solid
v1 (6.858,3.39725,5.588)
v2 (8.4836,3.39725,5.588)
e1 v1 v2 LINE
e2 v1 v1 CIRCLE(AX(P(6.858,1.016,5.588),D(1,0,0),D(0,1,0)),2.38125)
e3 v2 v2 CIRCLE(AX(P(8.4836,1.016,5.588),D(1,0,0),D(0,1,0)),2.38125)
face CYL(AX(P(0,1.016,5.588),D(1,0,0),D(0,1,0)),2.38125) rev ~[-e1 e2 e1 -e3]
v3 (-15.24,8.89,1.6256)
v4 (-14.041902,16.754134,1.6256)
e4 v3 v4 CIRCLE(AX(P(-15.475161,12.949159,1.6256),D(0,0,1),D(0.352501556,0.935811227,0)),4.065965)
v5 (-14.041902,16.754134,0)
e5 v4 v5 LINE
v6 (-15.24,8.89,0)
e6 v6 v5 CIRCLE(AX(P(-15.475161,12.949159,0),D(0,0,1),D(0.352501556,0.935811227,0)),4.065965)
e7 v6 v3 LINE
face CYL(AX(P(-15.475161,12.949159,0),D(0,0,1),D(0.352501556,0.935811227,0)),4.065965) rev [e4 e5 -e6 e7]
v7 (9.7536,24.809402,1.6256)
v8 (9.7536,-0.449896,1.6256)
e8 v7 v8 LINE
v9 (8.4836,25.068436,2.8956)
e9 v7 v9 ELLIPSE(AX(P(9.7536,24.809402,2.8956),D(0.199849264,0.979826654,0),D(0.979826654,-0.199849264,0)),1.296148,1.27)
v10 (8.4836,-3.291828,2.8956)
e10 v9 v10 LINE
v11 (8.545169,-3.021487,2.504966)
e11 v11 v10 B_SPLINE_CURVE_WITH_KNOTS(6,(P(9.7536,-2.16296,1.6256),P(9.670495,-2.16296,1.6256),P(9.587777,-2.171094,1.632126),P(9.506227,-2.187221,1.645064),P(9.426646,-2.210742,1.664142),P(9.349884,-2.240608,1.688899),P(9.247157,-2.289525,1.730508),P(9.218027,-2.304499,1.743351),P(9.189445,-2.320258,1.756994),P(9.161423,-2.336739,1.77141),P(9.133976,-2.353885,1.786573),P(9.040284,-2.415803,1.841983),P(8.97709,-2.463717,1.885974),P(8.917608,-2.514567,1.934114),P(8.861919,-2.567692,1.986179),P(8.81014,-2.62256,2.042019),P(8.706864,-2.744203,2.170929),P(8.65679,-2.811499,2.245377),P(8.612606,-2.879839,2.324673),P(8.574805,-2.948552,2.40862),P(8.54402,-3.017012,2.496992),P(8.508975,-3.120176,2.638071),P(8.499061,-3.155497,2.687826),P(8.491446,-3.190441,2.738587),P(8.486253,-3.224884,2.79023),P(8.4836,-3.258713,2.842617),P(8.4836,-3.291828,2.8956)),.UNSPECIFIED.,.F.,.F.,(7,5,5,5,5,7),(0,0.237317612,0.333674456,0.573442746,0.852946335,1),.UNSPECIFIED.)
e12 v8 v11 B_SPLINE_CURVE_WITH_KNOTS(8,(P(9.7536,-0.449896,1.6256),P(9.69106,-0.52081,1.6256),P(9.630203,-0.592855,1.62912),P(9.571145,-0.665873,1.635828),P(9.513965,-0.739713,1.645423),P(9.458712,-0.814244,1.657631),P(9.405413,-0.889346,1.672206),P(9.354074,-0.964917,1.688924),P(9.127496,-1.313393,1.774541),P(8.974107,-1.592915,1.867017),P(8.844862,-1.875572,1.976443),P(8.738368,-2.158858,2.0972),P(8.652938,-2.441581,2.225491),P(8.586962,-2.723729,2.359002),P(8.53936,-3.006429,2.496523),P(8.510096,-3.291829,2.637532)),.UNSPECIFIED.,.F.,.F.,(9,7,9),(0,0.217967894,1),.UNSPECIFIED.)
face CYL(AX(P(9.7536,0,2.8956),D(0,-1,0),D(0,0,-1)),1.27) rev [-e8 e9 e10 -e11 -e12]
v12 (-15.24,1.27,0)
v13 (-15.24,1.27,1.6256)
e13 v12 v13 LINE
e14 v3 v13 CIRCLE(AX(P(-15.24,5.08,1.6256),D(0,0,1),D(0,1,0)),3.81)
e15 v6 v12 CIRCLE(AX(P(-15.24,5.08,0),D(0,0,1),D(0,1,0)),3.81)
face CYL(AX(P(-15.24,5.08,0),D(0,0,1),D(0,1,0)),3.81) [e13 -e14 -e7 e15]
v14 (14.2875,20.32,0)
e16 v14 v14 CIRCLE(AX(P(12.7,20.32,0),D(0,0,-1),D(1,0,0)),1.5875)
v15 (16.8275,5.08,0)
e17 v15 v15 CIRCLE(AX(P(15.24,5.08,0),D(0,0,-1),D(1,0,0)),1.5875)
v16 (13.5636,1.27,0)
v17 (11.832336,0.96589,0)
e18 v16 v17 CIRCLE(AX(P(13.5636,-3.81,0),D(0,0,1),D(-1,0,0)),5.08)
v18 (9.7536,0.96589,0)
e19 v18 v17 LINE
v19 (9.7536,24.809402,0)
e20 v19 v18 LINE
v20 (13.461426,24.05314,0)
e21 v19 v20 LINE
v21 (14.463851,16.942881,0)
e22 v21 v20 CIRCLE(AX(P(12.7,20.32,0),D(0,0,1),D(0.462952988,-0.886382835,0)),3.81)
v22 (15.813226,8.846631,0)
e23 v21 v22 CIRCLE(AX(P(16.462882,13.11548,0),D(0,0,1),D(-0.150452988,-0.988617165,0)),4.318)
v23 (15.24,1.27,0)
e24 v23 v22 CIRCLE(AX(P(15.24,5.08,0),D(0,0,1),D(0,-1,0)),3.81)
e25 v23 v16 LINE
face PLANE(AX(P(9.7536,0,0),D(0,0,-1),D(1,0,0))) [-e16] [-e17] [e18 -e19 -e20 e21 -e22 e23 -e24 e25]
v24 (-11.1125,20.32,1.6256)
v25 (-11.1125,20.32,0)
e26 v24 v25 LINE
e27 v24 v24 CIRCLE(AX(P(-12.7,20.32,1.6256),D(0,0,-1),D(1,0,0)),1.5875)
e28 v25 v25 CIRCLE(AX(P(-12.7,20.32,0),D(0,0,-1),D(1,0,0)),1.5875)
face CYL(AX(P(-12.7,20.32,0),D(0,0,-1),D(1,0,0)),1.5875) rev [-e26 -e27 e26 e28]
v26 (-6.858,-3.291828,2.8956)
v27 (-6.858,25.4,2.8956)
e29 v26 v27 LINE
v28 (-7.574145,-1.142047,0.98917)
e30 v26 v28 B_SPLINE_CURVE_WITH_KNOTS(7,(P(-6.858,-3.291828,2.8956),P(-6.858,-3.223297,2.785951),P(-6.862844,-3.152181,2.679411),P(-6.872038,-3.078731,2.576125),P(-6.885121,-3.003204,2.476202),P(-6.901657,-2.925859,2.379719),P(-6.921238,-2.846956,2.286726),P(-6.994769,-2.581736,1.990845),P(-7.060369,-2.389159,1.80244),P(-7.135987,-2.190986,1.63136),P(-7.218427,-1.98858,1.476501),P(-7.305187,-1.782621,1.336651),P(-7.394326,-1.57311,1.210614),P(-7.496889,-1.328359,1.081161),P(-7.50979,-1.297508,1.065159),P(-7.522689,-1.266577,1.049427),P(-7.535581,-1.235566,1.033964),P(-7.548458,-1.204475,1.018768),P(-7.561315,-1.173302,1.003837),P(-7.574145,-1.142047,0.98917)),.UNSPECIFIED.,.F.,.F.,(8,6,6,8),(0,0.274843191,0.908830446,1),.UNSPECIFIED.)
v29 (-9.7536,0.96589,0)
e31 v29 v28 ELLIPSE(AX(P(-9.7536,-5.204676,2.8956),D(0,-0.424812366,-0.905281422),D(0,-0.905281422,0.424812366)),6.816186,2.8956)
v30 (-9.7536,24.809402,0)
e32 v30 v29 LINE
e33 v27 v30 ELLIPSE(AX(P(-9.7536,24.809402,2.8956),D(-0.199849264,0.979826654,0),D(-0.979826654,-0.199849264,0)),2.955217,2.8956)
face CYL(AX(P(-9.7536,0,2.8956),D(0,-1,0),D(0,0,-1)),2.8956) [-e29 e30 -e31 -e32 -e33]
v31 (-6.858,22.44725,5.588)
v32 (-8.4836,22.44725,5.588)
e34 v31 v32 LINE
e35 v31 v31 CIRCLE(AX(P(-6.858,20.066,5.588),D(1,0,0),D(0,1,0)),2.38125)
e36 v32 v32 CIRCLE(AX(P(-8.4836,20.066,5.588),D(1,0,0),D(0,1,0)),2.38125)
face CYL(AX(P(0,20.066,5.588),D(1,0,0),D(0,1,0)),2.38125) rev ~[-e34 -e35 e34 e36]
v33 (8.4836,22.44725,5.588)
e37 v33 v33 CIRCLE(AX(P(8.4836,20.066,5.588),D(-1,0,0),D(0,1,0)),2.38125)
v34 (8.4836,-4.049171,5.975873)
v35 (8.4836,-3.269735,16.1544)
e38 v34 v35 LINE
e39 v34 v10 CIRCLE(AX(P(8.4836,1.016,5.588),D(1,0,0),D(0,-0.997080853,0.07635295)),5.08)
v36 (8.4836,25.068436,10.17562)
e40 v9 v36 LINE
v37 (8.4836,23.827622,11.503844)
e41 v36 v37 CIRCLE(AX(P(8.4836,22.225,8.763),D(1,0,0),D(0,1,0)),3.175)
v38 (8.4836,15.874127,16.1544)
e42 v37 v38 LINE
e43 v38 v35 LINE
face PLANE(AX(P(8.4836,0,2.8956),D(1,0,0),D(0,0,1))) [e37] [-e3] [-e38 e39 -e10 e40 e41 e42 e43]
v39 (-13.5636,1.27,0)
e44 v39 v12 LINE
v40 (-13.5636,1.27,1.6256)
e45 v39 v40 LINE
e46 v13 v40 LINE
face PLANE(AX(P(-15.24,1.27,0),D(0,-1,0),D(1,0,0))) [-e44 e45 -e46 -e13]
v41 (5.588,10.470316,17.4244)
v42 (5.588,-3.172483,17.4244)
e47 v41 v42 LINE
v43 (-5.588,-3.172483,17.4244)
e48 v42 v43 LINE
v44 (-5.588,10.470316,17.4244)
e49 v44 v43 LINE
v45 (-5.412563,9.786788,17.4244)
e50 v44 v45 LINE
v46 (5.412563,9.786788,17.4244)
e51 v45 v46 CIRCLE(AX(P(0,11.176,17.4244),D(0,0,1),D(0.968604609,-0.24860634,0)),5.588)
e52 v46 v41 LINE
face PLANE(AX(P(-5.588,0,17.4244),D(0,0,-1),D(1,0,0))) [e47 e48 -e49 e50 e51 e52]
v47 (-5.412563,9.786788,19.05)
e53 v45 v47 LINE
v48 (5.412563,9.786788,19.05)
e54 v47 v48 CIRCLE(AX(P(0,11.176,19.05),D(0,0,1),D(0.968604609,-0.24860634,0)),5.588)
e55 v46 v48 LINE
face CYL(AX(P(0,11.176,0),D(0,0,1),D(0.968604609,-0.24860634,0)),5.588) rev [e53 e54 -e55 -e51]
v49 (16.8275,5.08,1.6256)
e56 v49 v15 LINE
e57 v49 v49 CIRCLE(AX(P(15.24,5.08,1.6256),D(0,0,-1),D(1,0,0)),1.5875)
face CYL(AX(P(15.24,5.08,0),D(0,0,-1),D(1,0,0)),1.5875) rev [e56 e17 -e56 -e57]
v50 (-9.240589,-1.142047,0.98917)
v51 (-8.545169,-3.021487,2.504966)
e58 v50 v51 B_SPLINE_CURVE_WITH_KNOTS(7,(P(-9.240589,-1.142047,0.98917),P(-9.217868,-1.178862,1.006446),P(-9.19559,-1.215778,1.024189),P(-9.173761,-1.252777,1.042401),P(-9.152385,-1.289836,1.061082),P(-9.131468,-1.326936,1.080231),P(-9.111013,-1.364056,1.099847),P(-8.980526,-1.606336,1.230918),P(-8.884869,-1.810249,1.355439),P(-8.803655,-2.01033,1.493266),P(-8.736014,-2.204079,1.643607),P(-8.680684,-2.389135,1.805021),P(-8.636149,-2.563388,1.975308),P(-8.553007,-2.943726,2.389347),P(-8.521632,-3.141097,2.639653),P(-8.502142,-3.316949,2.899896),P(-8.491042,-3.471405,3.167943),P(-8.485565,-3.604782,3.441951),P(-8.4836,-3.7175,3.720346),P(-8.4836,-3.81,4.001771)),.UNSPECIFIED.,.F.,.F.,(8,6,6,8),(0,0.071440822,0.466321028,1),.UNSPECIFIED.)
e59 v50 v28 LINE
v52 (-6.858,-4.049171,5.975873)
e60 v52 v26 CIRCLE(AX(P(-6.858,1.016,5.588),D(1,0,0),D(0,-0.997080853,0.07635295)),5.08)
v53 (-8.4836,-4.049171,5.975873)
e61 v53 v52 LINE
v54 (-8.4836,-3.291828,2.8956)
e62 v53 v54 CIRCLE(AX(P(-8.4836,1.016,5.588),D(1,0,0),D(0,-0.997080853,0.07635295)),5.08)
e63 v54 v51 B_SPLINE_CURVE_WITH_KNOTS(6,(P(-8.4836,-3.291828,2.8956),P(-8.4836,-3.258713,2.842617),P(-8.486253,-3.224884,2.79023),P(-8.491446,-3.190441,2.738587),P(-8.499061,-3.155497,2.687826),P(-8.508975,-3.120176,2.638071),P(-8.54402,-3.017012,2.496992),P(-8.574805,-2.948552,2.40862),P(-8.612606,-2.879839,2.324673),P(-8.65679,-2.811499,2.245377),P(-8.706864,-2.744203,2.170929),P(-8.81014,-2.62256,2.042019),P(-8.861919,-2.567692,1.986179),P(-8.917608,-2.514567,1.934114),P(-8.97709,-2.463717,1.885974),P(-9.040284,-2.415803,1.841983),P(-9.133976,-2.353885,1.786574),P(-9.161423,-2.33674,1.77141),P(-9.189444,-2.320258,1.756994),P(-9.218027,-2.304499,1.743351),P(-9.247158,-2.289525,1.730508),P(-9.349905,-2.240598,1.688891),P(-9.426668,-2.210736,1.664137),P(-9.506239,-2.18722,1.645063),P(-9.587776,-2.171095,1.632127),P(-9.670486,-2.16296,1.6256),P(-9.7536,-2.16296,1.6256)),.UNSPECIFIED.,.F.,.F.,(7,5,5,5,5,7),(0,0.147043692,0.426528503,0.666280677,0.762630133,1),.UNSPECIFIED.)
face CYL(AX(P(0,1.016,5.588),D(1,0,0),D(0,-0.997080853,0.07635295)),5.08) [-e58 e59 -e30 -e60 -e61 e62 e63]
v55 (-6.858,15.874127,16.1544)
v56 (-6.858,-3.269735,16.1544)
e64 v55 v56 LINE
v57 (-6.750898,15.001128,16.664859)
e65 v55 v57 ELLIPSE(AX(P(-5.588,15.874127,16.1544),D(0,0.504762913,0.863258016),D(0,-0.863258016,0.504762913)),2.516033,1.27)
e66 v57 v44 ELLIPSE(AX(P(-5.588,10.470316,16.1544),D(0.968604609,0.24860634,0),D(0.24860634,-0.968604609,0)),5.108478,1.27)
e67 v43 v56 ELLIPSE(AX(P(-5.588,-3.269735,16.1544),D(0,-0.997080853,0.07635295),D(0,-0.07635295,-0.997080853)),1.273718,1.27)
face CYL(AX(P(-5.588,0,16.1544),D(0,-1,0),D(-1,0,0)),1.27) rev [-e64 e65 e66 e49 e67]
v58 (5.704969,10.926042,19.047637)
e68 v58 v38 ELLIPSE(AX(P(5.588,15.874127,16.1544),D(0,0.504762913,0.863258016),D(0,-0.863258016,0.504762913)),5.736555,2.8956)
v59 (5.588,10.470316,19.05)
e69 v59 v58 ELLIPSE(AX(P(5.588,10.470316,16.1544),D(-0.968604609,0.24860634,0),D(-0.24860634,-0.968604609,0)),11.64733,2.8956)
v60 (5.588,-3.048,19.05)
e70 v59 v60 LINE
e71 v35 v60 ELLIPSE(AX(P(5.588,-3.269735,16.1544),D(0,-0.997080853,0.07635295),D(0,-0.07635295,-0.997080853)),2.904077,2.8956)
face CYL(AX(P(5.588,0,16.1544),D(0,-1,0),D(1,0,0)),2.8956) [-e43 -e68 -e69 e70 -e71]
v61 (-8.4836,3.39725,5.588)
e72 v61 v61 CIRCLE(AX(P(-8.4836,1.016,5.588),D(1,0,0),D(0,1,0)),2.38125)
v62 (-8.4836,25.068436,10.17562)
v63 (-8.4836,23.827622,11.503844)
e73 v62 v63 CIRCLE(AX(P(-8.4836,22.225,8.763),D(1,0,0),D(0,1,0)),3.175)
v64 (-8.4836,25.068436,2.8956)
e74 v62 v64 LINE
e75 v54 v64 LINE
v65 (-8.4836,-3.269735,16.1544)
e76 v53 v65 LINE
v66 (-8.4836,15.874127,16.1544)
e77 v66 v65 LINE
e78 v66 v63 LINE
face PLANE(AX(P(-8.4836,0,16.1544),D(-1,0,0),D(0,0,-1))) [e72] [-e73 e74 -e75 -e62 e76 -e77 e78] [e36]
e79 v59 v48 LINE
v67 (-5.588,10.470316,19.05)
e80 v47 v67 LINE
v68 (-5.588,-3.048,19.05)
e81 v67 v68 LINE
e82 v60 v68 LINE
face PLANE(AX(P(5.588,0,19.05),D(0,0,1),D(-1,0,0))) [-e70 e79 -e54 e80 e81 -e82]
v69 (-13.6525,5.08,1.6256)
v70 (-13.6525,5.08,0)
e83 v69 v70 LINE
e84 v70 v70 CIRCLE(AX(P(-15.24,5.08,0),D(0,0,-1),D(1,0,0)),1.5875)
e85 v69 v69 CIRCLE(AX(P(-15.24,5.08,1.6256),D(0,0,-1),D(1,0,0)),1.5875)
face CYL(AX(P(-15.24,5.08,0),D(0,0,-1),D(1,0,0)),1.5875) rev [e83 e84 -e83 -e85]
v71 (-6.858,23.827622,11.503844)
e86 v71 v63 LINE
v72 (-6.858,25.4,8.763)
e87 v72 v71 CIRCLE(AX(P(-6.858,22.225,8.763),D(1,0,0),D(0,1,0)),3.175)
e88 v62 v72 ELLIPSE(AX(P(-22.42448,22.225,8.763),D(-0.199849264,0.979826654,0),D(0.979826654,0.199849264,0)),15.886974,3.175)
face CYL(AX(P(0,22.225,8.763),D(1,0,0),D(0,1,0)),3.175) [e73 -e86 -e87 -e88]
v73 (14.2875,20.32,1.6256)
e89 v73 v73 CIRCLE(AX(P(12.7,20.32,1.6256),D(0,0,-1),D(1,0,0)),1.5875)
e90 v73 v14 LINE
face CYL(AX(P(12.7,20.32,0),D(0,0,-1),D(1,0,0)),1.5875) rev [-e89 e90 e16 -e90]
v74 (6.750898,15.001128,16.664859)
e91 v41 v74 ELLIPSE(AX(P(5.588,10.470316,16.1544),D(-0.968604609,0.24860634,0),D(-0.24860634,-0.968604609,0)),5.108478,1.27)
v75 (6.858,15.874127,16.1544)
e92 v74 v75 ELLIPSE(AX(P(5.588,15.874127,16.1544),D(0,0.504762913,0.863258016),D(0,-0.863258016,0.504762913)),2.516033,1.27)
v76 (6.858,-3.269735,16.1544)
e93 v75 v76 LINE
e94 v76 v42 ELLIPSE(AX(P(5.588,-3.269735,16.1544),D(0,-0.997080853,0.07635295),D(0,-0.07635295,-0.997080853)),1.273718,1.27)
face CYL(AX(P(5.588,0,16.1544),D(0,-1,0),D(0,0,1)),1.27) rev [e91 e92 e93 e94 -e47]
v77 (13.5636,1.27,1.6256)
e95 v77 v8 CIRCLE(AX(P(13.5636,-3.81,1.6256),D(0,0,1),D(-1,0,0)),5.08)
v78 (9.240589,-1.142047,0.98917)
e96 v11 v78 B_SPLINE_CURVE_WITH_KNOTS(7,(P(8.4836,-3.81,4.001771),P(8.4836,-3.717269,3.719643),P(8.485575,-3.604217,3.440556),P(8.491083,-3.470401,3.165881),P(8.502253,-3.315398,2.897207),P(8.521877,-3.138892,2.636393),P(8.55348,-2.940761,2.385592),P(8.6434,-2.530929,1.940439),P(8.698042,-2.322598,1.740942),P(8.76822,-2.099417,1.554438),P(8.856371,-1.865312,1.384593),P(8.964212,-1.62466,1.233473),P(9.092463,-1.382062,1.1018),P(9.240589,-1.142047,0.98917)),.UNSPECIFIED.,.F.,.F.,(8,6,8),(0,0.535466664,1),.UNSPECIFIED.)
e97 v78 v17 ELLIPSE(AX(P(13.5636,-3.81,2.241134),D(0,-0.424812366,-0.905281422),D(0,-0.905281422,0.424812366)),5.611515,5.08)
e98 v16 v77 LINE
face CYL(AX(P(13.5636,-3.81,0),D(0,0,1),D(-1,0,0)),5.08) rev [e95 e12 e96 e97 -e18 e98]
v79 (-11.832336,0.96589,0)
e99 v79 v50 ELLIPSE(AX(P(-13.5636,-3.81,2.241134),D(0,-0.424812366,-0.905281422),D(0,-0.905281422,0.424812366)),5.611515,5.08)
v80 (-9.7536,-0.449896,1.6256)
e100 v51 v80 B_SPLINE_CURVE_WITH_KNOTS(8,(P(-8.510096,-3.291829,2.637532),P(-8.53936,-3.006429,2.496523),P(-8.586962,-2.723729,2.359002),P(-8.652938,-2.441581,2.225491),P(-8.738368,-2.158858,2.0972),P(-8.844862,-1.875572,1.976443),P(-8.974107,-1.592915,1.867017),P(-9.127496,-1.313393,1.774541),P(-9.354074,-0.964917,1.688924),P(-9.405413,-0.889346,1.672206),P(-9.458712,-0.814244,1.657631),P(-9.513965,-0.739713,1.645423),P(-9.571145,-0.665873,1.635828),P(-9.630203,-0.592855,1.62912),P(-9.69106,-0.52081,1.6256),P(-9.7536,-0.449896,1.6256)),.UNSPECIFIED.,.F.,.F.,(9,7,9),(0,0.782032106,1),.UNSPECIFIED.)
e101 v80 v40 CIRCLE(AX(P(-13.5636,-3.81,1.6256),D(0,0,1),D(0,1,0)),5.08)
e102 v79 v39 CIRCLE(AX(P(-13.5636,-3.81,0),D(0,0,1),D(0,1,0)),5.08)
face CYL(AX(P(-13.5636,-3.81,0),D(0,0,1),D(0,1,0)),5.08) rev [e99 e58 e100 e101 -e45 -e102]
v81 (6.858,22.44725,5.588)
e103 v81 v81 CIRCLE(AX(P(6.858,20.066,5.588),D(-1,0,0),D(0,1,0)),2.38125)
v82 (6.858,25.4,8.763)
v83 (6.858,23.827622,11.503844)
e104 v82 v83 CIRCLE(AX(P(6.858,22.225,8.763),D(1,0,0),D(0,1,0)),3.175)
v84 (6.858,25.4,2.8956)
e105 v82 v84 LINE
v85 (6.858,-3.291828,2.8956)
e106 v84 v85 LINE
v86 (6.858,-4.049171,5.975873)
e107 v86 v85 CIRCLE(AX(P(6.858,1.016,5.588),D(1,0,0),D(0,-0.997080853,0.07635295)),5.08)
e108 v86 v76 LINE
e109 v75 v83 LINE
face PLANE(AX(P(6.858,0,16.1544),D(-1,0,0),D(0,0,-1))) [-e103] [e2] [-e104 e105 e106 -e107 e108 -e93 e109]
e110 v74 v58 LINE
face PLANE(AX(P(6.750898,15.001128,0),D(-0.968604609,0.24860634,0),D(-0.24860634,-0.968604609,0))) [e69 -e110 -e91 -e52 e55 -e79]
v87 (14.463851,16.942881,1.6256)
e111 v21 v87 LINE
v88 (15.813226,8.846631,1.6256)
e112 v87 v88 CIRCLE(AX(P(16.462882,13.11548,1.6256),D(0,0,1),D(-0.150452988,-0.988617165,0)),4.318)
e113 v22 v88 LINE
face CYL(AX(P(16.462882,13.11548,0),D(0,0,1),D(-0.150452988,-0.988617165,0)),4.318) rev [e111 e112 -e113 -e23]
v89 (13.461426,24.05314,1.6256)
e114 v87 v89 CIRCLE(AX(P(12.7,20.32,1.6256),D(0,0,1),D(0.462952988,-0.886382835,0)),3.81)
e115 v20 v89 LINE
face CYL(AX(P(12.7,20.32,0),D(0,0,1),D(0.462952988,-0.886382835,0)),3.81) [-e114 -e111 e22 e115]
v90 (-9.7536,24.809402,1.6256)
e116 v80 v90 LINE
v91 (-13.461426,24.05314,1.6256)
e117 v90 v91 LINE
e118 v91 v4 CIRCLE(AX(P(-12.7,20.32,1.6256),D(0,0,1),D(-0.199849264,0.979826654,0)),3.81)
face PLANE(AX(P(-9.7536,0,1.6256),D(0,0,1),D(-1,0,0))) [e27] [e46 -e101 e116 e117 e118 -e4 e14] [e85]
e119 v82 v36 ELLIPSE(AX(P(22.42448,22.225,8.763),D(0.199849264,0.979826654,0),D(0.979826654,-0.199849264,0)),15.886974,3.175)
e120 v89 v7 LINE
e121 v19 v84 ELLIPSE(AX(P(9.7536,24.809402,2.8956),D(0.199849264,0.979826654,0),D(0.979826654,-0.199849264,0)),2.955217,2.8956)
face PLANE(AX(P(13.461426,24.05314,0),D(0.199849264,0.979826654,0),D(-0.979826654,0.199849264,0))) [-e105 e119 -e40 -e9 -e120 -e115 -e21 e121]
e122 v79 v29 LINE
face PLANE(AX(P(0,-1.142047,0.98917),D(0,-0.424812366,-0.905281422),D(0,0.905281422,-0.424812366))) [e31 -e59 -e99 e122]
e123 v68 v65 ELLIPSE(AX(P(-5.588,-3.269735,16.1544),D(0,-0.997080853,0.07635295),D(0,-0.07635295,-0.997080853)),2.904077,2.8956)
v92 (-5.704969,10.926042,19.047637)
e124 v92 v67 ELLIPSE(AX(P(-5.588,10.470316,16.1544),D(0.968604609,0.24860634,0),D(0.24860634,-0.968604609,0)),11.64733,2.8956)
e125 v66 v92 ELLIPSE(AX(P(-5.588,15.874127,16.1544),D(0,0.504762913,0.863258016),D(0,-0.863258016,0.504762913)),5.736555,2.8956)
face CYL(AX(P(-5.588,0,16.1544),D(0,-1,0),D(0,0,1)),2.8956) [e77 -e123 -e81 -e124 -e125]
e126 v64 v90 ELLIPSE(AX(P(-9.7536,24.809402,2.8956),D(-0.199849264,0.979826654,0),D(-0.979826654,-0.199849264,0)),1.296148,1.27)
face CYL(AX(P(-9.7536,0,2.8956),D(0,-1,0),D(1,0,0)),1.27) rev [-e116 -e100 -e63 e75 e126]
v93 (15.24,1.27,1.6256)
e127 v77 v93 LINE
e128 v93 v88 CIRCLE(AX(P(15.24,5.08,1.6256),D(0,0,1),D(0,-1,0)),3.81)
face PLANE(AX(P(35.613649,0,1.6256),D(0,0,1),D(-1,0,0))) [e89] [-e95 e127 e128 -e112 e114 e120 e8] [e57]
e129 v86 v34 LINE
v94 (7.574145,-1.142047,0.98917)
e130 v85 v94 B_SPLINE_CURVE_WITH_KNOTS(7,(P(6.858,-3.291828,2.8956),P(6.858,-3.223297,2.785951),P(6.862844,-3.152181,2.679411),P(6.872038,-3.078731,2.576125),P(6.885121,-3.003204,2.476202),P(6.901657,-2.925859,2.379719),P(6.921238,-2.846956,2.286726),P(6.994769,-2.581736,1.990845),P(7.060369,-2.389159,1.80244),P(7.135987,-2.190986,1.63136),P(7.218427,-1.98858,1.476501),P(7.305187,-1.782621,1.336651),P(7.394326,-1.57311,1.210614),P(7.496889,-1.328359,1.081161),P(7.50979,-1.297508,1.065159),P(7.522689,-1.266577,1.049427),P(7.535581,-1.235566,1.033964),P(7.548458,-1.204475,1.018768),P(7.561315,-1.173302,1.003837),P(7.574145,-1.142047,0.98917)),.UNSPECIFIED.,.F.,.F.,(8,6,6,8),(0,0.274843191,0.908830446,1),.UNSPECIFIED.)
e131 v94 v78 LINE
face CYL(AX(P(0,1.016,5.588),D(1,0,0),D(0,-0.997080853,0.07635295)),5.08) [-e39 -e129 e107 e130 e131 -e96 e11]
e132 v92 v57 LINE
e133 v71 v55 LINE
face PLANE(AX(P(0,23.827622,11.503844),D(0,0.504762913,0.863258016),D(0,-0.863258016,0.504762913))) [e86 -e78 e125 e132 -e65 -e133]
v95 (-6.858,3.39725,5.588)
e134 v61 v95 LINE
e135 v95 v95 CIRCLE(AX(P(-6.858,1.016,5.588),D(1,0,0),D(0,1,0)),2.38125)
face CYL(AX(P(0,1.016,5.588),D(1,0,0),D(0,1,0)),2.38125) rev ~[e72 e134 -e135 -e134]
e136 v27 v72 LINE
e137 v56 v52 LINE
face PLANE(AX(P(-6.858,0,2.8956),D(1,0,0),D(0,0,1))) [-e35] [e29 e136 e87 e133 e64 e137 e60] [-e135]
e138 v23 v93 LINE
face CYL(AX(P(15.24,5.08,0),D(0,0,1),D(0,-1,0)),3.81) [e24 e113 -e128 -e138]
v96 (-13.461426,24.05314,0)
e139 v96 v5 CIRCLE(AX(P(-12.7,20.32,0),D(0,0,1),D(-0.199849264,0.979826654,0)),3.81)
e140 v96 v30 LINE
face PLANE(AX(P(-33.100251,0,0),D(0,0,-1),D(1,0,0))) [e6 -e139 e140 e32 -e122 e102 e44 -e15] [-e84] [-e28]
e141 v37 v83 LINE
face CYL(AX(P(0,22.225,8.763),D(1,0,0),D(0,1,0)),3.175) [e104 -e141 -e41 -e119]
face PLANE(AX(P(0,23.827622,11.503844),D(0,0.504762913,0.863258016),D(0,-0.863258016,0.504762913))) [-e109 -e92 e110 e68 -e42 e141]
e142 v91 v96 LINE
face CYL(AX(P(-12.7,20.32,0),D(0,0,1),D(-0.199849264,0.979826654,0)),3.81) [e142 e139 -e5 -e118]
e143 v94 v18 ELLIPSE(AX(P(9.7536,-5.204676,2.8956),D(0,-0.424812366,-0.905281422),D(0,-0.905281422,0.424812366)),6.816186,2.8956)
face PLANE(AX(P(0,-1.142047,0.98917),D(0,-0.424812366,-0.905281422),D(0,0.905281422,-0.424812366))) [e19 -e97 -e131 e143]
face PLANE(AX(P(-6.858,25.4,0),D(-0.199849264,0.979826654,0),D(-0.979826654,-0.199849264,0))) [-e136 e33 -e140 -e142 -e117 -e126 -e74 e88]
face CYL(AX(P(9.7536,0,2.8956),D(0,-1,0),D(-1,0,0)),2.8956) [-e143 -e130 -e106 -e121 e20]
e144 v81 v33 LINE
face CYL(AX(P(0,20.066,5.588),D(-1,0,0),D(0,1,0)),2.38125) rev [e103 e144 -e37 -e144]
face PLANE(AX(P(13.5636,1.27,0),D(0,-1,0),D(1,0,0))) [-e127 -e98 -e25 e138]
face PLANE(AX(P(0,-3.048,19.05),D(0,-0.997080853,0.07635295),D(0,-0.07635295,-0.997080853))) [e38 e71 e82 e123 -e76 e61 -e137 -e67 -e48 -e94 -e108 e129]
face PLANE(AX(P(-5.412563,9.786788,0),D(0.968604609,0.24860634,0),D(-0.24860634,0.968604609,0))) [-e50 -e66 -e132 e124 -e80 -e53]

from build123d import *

# Parameters (mm, degrees)
F1_DEPTH = 25.4
F2_R     = 2.38125
F3_DEPTH = 12.7
F5_DEPTH = 63.5
F6_R     = 1.5875
F7_DEPTH = 63.5


with BuildPart() as f1:
    # F0 (on Front) → F1 (new body, symmetric)
    with BuildSketch(Plane.XZ):
        with BuildLine():
            Line((-33.1002511084, 1.6256), (-33.1002511084, 0))
            Line((-33.1002511084, 0), (-9.7536, 0))
            ThreePointArc((-9.7536, 0), (-7.7061016044, 0.8481016044), (-6.858, 2.8956))
            Line((-6.858, 2.8956), (-6.858, 16.1544))
            ThreePointArc((-6.858, 16.1544), (-6.4860256121, 17.0524256121), (-5.588, 17.4244))
            Line((-5.588, 17.4244), (5.588, 17.4244))
            ThreePointArc((5.588, 17.4244), (6.4860256121, 17.0524256121), (6.858, 16.1544))
            Line((6.858, 16.1544), (6.858, 2.8956))
            ThreePointArc((6.858, 2.8956), (7.7061016044, 0.8481016044), (9.7536, 0))
            Line((9.7536, 0), (35.6136485934, 0))
            Line((35.6136485934, 0), (35.6136485934, 1.6256))
            Line((35.6136485934, 1.6256), (9.7536, 1.6256))
            ThreePointArc((9.7536, 1.6256), (8.8555743879, 1.9975743879), (8.4836, 2.8956))
            Line((8.4836, 2.8956), (8.4836, 16.1544))
            ThreePointArc((8.4836, 16.1544), (7.6354983956, 18.2018983956), (5.588, 19.05))
            Line((5.588, 19.05), (-5.588, 19.05))
            ThreePointArc((-5.588, 19.05), (-7.6354983956, 18.2018983956), (-8.4836, 16.1544))
            Line((-8.4836, 16.1544), (-8.4836, 2.8956))
            ThreePointArc((-8.4836, 2.8956), (-8.8555743879, 1.9975743879), (-9.7536, 1.6256))
            Line((-9.7536, 1.6256), (-33.1002511084, 1.6256))
        make_face()
    extrude(amount=F1_DEPTH, both=True)

    # F2 (on Right) → F3 (cut, symmetric)
    with BuildSketch(Plane.YZ):
        with Locations((20.066, 5.588)):
            Circle(F2_R)
        with Locations((1.016, 5.588)):
            Circle(F2_R)
    extrude(amount=F3_DEPTH, both=True, mode=Mode.SUBTRACT)

    # F4 (on Right) → F5 (intersect, symmetric)
    with BuildSketch(Plane.YZ):
        with BuildLine():
            Line((-3.048, 19.05), (-4.0491707322, 5.9758729865))
            ThreePointArc((-4.0491707322, 5.9758729865), (-3.3726807453, 3.0295079996), (-1.142046819, 0.9891703742))
            Line((-1.142046819, 0.9891703742), (0.9658898494, 0))
            Line((0.9658898494, 0), (0.9658898494, -3.7190427538))
            Line((0.9658898494, -3.7190427538), (25.4, -3.7190427538))
            Line((25.4, -3.7190427538), (25.4, 0))
            Line((25.4, 0), (25.4, 8.763))
            ThreePointArc((25.4, 8.763), (24.9789926145, 10.3429207827), (23.8276222491, 11.5038441996))
            Line((23.8276222491, 11.5038441996), (10.922, 19.05))
            Line((10.922, 19.05), (-3.048, 19.05))
        make_face()
    extrude(amount=F5_DEPTH, both=True, mode=Mode.INTERSECT)

    # F6 (on Top) → F7 (intersect, symmetric)
    with BuildSketch(Plane.XY):
        with BuildLine():
            ThreePointArc((-14.0419021, 16.754134221), (-11.4555767164, 12.3367765251), (-15.24, 8.89))
            ThreePointArc((-15.24, 8.89), (-19.05, 5.08), (-15.24, 1.27))
            Line((-15.24, 1.27), (-13.5636, 1.27))
            ThreePointArc((-13.5636, 1.27), (-9.9714975516, -0.2178975516), (-8.4836, -3.81))
            Line((-8.4836, -3.81), (-8.4836, -8.5270870477))
            Line((-8.4836, -8.5270870477), (8.4836, -8.5270870477))
            Line((8.4836, -8.5270870477), (8.4836, -3.81))
            ThreePointArc((8.4836, -3.81), (9.9714975516, -0.2178975516), (13.5636, 1.27))
            Line((13.5636, 1.27), (15.24, 1.27))
            ThreePointArc((15.24, 1.27), (19.0391423785, 4.7925679424), (15.8132258851, 8.8466313975))
            ThreePointArc((15.8132258851, 8.8466313975), (12.203632925, 12.4056054875), (14.4638508851, 16.9428813975))
            ThreePointArc((14.4638508851, 16.9428813975), (16.4726911093, 20.8518851319), (13.4614256967, 24.0531395512))
            Line((13.4614256967, 24.0531395512), (6.858, 25.4))
            Line((6.858, 25.4), (6.858, 15.8741267216))
            add(Edge.make_bspline(
                [(6.7508981156, 15.0011278174), (6.858, 15.4184115393), (6.858, 15.8741267216)],
                knots=[4.2987589202, 4.2987589202, 4.2987589202, 4.7123889804, 4.7123889804, 4.7123889804], degree=2, weights=[1, 0.9786898915, 1]))
            Line((6.7508981156, 15.0011278174), (5.4125625526, 9.7867877722))
            ThreePointArc((5.4125625526, 9.7867877722), (0, 5.588), (-5.4125625526, 9.7867877722))
            Line((-5.4125625526, 9.7867877722), (-6.7508981156, 15.0011278174))
            Line((-6.7508981156, 15.0011278174), (-6.858, 15.4184115393))
            Line((-6.858, 15.4184115393), (-6.858, 15.8741267216))
            Line((-6.858, 15.8741267216), (-6.858, 25.4))
            Line((-6.858, 25.4), (-13.4614256967, 24.0531395512))
            ThreePointArc((-13.4614256967, 24.0531395512), (-16.4980082488, 20.6220485762), (-14.0419021, 16.754134221))
        make_face()
        with Locations((-15.24, 5.08)):
            Circle(F6_R, mode=Mode.SUBTRACT)
        with Locations((15.24, 5.08)):
            Circle(F6_R, mode=Mode.SUBTRACT)
        with Locations((-12.7, 20.32)):
            Circle(F6_R, mode=Mode.SUBTRACT)
        with Locations((12.7, 20.32)):
            Circle(F6_R, mode=Mode.SUBTRACT)
        with BuildLine():
            add(Edge.make_bspline(
                [(-6.858, 15.8741267216), (-6.858, 15.4184115393), (-6.7508981156, 15.0011278174)],
                knots=[1.5707963268, 1.5707963268, 1.5707963268, 1.984426387, 1.984426387, 1.984426387], degree=2, weights=[1, 0.9786898915, 1]))
            Line((-6.858, 15.8741267216), (-6.858, 15.4184115393))
            Line((-6.858, 15.4184115393), (-6.7508981156, 15.0011278174))
        make_face()
    extrude(amount=F7_DEPTH, both=True, mode=Mode.INTERSECT)


solid = f1.part
